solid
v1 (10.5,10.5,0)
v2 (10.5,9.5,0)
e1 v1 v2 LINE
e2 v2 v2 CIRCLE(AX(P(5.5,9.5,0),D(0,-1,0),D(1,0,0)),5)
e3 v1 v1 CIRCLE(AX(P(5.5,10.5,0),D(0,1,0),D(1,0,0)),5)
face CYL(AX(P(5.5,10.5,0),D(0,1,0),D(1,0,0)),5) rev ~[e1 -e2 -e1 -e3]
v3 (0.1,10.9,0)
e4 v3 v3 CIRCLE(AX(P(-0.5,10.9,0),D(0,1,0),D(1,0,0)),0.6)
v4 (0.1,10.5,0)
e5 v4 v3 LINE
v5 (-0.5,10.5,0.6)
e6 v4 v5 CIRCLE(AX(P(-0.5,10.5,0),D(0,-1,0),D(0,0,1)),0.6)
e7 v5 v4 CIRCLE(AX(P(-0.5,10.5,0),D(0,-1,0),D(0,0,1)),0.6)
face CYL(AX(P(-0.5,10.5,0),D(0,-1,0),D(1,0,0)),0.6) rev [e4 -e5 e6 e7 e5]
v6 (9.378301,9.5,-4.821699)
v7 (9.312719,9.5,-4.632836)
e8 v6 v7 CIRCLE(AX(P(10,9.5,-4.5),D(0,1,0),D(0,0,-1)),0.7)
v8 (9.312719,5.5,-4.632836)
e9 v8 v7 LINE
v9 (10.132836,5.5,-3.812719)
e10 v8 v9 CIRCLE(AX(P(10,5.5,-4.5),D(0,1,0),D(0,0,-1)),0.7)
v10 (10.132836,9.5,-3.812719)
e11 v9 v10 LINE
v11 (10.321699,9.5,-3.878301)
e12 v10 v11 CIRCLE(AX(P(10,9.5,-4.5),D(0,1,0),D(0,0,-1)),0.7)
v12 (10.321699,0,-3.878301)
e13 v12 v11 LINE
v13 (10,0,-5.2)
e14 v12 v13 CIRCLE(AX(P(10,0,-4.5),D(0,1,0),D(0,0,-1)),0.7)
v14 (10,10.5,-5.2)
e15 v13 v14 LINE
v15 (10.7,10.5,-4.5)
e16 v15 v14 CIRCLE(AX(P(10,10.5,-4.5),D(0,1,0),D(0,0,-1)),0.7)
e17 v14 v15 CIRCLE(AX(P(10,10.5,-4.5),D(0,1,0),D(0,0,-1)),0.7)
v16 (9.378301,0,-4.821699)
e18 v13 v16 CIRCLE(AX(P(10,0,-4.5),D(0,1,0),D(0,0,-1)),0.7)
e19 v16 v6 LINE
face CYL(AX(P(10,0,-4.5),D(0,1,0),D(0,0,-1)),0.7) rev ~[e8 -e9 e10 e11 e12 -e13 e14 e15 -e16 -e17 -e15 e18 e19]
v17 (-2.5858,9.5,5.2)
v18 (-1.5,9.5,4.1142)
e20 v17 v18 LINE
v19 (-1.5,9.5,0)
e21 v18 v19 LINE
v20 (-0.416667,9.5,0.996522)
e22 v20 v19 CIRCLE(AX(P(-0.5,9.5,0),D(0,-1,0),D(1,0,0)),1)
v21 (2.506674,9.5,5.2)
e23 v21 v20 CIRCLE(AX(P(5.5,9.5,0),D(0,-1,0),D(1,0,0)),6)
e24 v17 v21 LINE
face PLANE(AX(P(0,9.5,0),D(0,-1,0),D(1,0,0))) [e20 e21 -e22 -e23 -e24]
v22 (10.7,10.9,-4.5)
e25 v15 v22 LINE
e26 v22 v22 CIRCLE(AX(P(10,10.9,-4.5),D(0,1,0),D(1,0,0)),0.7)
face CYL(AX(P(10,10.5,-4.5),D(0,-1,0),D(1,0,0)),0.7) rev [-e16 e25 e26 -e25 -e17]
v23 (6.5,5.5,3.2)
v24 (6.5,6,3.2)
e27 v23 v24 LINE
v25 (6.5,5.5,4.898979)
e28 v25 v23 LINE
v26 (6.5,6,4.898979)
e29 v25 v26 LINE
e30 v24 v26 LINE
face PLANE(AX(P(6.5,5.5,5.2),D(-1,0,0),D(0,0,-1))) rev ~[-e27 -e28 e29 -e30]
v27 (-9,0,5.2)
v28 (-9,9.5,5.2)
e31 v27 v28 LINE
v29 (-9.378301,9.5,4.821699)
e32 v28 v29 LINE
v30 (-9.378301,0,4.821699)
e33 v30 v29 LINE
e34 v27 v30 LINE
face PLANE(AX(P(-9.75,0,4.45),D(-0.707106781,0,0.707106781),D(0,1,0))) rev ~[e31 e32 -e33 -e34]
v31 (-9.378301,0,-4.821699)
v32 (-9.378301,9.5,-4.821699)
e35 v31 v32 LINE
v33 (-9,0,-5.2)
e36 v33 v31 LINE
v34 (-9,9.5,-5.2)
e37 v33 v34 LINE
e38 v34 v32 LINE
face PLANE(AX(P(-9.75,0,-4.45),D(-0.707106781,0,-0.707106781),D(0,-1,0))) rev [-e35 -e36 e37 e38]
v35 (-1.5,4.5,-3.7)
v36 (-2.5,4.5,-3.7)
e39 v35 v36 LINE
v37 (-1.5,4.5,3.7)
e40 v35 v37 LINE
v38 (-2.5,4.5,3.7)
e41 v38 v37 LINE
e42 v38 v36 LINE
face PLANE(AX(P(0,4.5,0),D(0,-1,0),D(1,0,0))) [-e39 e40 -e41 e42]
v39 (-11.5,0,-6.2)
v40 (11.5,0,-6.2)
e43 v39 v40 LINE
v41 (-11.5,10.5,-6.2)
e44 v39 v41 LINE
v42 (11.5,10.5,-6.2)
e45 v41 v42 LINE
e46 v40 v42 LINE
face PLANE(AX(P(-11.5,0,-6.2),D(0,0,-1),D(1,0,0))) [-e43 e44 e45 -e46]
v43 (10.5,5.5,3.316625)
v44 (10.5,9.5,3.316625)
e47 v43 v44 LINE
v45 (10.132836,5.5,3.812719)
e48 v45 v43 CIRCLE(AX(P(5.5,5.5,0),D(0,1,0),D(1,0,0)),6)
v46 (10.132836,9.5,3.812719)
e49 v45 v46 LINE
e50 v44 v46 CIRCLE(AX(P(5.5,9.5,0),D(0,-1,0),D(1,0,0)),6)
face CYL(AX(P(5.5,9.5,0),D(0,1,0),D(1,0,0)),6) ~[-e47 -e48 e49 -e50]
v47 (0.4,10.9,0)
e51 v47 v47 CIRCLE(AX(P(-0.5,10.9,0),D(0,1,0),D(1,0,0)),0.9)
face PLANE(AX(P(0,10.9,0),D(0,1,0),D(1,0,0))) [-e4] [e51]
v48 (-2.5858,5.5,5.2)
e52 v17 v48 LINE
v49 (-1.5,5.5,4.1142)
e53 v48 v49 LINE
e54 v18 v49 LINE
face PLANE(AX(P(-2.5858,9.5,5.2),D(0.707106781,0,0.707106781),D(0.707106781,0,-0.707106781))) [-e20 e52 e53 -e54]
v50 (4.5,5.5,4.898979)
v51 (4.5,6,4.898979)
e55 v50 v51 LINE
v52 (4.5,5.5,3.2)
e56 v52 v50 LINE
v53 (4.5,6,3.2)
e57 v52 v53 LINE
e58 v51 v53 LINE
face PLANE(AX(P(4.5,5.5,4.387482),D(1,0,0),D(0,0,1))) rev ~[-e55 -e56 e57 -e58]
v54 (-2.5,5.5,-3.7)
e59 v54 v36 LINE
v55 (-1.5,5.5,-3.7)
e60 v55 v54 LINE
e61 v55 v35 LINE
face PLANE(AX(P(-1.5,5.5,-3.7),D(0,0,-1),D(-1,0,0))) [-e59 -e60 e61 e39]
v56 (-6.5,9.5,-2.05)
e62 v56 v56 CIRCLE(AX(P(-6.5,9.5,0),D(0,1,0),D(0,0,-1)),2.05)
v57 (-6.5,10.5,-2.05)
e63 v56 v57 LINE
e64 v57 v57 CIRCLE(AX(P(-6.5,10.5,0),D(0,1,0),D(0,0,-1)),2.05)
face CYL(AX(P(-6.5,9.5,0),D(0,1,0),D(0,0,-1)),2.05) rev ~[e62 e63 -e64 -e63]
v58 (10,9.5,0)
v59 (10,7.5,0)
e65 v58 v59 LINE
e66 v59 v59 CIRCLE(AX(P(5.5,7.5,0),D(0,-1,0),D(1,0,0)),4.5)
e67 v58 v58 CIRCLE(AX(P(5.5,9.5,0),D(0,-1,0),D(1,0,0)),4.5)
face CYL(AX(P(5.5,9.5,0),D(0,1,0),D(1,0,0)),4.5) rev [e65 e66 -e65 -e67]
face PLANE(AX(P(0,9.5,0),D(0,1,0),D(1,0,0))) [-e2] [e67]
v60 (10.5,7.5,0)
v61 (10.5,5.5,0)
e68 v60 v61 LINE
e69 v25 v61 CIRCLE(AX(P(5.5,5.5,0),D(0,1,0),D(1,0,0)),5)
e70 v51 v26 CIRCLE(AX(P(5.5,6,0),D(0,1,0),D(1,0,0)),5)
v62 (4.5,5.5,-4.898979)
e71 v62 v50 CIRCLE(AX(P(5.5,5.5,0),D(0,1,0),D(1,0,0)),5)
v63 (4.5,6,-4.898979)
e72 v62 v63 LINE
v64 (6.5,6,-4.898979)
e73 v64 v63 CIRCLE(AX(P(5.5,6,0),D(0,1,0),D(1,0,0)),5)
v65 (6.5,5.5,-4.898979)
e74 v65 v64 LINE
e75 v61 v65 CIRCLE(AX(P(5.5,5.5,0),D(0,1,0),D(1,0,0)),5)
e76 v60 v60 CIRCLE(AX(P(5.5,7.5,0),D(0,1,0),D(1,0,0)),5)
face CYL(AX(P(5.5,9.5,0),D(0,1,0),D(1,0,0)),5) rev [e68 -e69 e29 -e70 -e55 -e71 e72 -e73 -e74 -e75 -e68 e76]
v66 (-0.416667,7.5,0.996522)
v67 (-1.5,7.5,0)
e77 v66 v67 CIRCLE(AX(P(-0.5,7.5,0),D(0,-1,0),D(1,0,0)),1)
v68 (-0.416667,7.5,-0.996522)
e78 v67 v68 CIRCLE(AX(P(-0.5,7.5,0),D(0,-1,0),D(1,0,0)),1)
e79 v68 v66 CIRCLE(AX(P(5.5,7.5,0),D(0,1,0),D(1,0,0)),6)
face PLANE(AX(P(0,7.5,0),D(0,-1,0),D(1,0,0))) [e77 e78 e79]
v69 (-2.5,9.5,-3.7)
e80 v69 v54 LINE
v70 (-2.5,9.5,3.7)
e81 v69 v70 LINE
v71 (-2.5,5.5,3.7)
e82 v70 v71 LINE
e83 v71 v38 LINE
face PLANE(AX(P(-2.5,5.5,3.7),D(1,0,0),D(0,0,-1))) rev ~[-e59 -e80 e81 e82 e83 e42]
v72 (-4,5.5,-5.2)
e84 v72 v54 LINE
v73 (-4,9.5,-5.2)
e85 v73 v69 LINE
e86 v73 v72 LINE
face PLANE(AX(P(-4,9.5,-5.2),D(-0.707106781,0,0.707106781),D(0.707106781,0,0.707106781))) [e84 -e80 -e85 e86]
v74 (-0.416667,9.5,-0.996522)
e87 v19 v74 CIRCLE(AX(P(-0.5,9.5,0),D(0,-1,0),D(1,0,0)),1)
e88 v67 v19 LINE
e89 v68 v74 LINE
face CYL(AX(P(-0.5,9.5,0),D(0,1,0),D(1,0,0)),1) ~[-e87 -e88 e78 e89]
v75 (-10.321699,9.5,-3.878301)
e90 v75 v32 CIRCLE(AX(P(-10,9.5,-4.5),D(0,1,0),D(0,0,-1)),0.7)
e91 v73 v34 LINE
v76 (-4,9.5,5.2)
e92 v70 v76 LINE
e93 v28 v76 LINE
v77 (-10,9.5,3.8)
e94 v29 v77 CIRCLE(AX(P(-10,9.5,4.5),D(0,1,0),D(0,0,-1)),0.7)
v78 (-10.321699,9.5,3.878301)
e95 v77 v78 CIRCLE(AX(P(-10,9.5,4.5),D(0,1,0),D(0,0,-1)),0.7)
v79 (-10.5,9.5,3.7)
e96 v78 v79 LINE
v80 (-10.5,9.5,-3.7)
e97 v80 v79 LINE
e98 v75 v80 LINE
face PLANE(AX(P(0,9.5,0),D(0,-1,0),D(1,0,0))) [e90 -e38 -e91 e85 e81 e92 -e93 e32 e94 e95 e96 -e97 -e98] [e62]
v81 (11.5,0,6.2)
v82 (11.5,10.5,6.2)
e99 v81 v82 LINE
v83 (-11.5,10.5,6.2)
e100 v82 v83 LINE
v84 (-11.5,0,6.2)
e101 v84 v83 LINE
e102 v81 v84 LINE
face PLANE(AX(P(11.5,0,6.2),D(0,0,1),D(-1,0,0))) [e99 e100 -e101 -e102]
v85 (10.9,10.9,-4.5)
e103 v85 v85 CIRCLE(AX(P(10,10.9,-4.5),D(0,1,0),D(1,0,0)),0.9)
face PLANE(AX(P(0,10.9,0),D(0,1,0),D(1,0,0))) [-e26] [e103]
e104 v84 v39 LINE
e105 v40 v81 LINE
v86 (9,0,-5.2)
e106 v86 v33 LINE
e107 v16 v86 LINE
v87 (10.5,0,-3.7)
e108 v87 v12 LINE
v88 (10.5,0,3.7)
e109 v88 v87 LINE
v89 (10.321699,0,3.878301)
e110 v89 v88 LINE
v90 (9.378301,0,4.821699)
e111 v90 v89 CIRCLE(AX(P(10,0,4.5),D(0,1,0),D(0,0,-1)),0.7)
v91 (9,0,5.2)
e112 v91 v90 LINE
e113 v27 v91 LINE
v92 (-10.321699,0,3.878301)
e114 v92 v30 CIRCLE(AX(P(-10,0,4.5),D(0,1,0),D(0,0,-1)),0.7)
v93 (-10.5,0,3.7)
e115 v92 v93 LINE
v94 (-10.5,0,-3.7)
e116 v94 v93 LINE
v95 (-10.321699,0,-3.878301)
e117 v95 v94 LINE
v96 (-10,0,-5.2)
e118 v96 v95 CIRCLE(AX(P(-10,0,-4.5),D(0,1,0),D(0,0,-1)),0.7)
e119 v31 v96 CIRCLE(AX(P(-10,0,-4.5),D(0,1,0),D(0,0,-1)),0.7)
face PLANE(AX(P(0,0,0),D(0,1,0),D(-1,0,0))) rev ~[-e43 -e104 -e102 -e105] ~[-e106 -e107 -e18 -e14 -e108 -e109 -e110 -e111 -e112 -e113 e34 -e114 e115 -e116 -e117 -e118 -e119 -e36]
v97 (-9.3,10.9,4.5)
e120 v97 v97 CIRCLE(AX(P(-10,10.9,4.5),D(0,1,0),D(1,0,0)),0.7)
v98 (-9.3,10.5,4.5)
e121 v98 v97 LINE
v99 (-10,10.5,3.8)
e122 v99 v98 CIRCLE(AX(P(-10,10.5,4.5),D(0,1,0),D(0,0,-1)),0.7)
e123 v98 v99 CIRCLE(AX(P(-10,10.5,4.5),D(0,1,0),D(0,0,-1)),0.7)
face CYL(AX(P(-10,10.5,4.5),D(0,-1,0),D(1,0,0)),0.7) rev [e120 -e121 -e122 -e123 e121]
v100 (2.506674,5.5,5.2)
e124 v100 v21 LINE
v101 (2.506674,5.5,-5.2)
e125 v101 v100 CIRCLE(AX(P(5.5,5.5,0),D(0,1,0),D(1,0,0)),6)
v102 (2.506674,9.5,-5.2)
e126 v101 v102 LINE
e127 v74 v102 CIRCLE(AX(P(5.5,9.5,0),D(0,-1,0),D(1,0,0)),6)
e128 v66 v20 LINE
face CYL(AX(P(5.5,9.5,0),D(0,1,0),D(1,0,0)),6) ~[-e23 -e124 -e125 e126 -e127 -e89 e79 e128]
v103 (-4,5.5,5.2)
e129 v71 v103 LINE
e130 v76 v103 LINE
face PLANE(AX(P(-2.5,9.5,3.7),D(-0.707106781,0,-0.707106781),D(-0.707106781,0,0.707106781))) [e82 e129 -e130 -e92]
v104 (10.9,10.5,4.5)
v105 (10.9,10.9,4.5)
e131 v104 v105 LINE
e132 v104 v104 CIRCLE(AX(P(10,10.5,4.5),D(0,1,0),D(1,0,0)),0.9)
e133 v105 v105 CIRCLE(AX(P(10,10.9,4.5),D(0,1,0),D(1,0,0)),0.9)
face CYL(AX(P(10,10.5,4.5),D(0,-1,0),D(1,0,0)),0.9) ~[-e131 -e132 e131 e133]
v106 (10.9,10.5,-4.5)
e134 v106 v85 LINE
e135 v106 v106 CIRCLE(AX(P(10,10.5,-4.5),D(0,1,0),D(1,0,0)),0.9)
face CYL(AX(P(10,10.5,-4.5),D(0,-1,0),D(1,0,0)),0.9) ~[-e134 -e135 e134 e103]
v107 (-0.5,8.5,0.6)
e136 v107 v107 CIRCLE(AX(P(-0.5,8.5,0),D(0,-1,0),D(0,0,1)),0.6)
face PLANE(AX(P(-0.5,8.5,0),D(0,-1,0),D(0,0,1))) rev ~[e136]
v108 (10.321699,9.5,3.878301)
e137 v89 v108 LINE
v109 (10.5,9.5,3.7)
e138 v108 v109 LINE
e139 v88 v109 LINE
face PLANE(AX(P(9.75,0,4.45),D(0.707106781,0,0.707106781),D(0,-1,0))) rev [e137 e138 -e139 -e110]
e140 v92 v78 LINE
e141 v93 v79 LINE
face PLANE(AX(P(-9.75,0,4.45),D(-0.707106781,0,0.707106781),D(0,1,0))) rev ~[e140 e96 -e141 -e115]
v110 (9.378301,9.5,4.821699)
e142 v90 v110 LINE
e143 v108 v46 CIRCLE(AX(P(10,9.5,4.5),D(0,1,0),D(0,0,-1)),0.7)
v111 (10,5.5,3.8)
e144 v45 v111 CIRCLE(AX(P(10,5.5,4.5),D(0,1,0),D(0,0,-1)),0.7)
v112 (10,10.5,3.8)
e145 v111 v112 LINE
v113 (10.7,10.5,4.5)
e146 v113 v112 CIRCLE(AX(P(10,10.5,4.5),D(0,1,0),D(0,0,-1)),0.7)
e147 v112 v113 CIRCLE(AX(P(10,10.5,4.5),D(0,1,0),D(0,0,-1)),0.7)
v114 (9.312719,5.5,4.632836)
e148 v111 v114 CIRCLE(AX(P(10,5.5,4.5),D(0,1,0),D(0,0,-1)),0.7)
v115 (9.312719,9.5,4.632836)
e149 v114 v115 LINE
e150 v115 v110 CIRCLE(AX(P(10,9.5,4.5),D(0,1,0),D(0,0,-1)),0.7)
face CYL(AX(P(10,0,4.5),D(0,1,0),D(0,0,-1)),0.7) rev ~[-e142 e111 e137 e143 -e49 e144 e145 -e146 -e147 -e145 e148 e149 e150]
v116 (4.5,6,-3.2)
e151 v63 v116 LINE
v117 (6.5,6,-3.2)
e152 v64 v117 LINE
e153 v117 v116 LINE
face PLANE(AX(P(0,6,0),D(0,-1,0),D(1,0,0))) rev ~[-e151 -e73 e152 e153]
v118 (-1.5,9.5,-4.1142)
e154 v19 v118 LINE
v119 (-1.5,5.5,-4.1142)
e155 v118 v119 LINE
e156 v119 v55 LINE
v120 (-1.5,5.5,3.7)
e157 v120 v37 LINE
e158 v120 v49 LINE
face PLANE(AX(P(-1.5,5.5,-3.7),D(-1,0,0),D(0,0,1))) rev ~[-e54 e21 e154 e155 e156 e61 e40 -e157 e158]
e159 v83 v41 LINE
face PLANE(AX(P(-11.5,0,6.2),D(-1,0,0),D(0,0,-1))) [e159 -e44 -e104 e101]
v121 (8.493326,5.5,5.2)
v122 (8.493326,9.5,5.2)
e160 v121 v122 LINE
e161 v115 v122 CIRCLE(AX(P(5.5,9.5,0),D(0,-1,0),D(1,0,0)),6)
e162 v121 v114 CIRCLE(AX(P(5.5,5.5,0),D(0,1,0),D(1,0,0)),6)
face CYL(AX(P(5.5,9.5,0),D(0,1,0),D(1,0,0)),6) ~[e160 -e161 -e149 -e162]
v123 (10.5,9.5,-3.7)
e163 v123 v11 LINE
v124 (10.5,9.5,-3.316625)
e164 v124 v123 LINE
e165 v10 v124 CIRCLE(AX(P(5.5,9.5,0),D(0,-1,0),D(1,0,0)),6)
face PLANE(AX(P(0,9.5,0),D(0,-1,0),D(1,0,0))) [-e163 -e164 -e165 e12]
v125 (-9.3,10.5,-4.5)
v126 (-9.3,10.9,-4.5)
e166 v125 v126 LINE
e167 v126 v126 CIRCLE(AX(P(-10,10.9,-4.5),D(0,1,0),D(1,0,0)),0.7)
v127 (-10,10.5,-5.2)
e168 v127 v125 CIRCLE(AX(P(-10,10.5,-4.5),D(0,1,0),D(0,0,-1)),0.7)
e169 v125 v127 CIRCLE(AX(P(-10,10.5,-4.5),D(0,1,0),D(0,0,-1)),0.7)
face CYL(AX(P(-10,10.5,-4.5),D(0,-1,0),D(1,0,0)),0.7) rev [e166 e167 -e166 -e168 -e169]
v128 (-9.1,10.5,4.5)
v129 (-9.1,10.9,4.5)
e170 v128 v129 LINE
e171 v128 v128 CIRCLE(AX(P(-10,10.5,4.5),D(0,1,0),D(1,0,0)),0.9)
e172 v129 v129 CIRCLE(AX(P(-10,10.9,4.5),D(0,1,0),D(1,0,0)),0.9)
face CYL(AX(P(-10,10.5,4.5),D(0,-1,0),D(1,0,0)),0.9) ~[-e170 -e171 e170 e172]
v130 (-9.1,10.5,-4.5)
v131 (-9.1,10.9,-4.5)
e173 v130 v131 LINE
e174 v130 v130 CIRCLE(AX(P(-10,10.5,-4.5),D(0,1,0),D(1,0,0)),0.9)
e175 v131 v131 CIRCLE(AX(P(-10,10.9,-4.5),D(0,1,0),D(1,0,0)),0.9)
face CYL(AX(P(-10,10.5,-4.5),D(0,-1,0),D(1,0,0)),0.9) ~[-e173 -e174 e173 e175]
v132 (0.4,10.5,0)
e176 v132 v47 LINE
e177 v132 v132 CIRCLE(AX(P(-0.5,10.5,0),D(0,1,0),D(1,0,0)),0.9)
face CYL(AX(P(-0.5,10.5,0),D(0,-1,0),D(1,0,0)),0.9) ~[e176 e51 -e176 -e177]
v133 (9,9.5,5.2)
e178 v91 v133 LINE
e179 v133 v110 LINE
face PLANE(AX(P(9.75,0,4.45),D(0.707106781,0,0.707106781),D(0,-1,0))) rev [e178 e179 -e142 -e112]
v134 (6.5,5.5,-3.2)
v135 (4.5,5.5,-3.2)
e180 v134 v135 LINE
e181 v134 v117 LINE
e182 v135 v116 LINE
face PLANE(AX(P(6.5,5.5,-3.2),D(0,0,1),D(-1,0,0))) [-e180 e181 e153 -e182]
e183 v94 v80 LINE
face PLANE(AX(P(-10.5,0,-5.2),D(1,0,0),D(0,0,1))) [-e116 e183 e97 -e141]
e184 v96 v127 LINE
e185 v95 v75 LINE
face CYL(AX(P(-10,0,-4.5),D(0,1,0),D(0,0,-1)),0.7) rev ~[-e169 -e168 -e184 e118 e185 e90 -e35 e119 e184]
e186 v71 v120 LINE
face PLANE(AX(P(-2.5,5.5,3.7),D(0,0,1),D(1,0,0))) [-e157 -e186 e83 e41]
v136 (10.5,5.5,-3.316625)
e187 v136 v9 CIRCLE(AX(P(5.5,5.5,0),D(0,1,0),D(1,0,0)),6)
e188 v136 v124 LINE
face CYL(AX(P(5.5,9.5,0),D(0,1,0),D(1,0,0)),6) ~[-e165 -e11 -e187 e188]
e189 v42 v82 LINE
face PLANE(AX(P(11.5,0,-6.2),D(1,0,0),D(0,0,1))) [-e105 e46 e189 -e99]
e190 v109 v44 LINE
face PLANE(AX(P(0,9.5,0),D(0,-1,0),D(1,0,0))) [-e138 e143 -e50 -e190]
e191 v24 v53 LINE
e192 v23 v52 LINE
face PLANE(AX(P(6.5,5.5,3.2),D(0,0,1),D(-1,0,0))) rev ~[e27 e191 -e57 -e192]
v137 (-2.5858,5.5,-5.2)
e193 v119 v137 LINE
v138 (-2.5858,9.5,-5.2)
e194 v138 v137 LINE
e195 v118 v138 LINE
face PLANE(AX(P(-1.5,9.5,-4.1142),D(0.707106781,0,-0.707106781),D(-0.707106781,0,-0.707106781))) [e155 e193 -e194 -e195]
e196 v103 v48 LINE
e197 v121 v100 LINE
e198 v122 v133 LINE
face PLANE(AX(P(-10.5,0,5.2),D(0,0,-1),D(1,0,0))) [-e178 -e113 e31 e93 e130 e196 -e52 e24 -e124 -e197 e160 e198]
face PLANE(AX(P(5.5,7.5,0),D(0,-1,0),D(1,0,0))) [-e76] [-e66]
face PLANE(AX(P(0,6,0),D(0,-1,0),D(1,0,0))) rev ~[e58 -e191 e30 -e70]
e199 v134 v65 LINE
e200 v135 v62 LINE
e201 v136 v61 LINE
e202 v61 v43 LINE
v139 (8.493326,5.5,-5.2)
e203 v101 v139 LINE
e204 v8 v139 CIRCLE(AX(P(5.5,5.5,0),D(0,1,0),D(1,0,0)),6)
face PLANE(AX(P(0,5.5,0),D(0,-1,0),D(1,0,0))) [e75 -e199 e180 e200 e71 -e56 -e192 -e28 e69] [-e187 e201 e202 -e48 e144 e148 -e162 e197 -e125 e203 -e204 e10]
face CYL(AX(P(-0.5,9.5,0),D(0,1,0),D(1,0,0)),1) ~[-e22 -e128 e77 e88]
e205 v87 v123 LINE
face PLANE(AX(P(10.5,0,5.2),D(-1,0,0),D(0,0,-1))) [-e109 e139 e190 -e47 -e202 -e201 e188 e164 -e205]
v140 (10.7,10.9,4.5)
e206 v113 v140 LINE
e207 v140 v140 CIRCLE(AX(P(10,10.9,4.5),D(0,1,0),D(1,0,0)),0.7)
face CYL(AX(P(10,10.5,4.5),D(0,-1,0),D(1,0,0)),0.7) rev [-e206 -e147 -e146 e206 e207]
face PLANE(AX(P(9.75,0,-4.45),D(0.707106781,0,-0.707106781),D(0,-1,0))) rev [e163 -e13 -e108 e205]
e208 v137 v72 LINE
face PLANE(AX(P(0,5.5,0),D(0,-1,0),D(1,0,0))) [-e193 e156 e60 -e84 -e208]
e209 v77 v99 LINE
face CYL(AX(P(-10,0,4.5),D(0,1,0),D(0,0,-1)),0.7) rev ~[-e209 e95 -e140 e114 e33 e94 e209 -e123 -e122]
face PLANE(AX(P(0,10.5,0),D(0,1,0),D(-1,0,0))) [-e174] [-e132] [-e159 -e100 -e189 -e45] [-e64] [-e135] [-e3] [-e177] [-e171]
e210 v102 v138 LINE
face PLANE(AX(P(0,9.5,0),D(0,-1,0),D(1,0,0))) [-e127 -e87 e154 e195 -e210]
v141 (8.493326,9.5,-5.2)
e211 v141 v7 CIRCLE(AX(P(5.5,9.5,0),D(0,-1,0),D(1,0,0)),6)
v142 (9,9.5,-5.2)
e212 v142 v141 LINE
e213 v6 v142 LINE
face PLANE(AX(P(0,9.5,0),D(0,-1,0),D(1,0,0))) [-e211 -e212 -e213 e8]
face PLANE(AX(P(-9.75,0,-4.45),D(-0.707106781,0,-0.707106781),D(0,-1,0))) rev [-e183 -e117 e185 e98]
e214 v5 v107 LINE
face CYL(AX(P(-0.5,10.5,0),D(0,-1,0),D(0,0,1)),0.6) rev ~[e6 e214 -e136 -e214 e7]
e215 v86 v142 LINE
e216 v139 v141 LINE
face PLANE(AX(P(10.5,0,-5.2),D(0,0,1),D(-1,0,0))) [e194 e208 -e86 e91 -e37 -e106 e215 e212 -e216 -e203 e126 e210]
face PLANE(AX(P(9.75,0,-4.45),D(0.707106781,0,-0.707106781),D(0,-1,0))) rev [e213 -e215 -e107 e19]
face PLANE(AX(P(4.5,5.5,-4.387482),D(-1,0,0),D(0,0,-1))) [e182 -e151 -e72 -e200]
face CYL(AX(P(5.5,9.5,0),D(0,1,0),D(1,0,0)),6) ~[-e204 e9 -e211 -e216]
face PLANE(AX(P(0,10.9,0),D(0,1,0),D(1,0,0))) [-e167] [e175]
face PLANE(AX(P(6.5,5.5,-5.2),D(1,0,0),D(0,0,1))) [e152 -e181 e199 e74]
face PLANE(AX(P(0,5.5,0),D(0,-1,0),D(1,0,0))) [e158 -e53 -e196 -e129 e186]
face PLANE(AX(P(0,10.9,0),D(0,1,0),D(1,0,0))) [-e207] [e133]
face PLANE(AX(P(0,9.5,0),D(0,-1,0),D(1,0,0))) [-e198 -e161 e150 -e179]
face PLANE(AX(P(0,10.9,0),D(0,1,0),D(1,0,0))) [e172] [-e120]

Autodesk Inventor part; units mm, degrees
ref_plane "YZ Plane" through (0, 0, 0) normal (1, 0, 0) x (0, 1, 0)
ref_plane "XZ Plane" through (0, 0, 0) normal (0, 1, 0) x (-1, 0, 0)
ref_plane "XY Plane" through (0, 0, 0) normal (0, 0, 1) x (1, 0, 0)
sketch "Эскиз1" plane through (0, 0, 0) normal (0, 1, 0) x (-1, 0, 0)
  line L0 (-11.5, 6.2) -> (11.5, 6.2)
  line L1 (11.5, 6.2) -> (11.5, -6.2)
  line L2 (11.5, -6.2) -> (-11.5, -6.2)
  line L3 (-11.5, -6.2) -> (-11.5, 6.2)
  line L4 (-11.5, 6.2) -> (11.5, -6.2) construction
  line L5 (11.5, 6.2) -> (-11.5, -6.2) construction
  point P0 (0, 0)
  dimension "d0" = 12.4
  dimension "d1" = 23
extrude "Выдавливание1" add sketch "Эскиз1" along normal blind 10.5
sketch "Эскиз2" plane through (0, 0, 0) normal (0, -1, 0) x (1, 0, 0)
  line L0 (11.5, 6.2) -> (-11.5, 6.2) projected
  line L1 (-11.5, 6.2) -> (-11.5, -6.2) projected
  line L2 (-11.5, -6.2) -> (11.5, -6.2) projected
  line L3 (11.5, -6.2) -> (11.5, 6.2) projected
  line L4 (-10.5, 5.2) -> (10.5, 5.2)
  line L5 (10.5, 5.2) -> (10.5, -5.2)
  line L6 (10.5, -5.2) -> (-10.5, -5.2)
  line L7 (-10.5, -5.2) -> (-10.5, 5.2)
  point P0 (0, 0)
  dimension "d66" = 1
extrude "Выдавливание2" cut sketch "Эскиз2" against normal blind 9.5 contours L4 L5 L6 L7
chamfer "Фаска1" distance 1.5 angle 45 4 edges at (-10.5, 4.75, 5.2) (10.5, 4.75, 5.2) (10.5, 4.75, -5.2) (-10.5, 4.75, -5.2)
sketch "Эскиз3" plane through (0, 9.5, 0) normal (0, -1, 0) x (1, 0, 0)
  line L0 (9, -5.2) -> (-9, -5.2) projected
  line L1 (-4, -5.2) -> (-2.5, -3.7)
  line L2 (-2.5, -3.7) -> (-2.5, 3.7)
  line L3 (-2.5, 3.7) -> (-4, 5.2)
  line L4 (-9, 5.2) -> (9, 5.2) projected
  line L5 (-16.1, 0) -> (16.1, 0) projected
  line L6 (-10.5, -3.7) -> (-10.5, 3.7) projected
  line L7 (-2.5858, 5.2) -> (-1.5, 4.1142)
  line L8 (-1.5, 4.1142) -> (-1.5, -4.1142)
  line L9 (-1.5, -4.1142) -> (-2.5858, -5.2)
  point P0 (0, 0)
  dimension "d9" = 1.5
  dimension "d10" = 8
  dimension "d11" = 1
  dimension "d12" = 1
extrude "Выдавливание3" add sketch "Эскиз3" along normal blind 4
sketch "Эскиз4" plane through (0, 5.5, 0) normal (0, -1, 0) x (1, 0, 0)
  line L0 (-2.5, 3.7) -> (-2.5, -3.7) projected
  line L1 (-1.5, -4.1142) -> (-1.5, 4.1142) projected
  line L2 (-2.5, 3.7) -> (-1.5, 3.7)
  line L3 (-1.5, 3.7) -> (-1.5, -3.7)
  line L4 (-1.5, -3.7) -> (-2.5, -3.7)
  line L5 (-2.5, -3.7) -> (-2.5, 3.7)
  point P0 (0, 0)
extrude "Выдавливание4" add sketch "Эскиз4" along normal blind 1
sketch "Эскиз5" plane through (0, 9.5, 0) normal (0, -1, 0) x (1, 0, 0)
  line L0 (-10.5, -3.7) -> (-10.5, 3.7) projected
  line L1 (-2.5, -3.7) -> (-2.5, 3.7) projected
  line L2 (-9, 5.2) -> (9, 5.2) projected
  line L3 (9, -5.2) -> (-9, -5.2) projected
  line L4 (-2.5, 3.7) -> (-2.5, -3.7) projected
  point P0 (0, 0)
  point P1 (-6.5, 0)
  point P2 (-2.5, 0)
  dimension "d64" = 8
  dimension "d65" = 4
hole "Отверстие1" at (-6.5, 9.5, 0) direction (0, 1, 0) diameter 4.1 depth 8 tip angle 118
sketch "Эскиз6" plane through (0, 9.5, 0) normal (0, -1, 0) x (1, 0, 0)
  circle A0 centre (5.5, 0) radius 5
  line L0 (10.5, 3.7) -> (10.5, -3.7) projected
  line L1 (-16.1, 0) -> (16.1, 0) projected
  line L2 (10.5, 3.7) -> (10.5, -3.7) projected
  circle A1 centre (5.5, 0) radius 6
  point P0 (0, 0)
  dimension "d24" = 10
  dimension "d25" = 1
extrude "Выдавливание5" add sketch "Эскиз6" along normal blind 4 contours L0 A1 L1 A0 | A0 L1 A1 L0 | L1 A1 L0 | L0 A1 L1
sketch "Эскиз7" plane through (5.5, 9.5, 0) normal (0, -1, 0) x (1, 0, 0)
  circle A0 centre (0, 0) radius 5 projected
  circle A1 centre (0, 0) radius 4.5
  point P0 (-5.5, 0)
  dimension "d28" = 9
extrude "Выдавливание6" cut sketch "Эскиз7" against normal blind 5 contours A1
sketch "Эскиз8" plane through (5.5, 9.5, 0) normal (0, -1, 0) x (1, 0, 0)
  circle A0 centre (0, 0) radius 4.5 projected
  circle A1 centre (0, 0) radius 5 projected
  point P0 (-5.5, 0)
extrude "Выдавливание7" add sketch "Эскиз8" along normal blind 2
sketch "Эскиз9" plane through (0, 10.5, 0) normal (0, 1, 0) x (1, 0, 0)
  circle A0 centre (5.5, 0) radius 4.5 projected
  circle A1 centre (5.5, 0) radius 5
  point P0 (0, 0)
  dimension "d33" = 10
extrude "Выдавливание8" cut sketch "Эскиз9" against normal blind 1
sketch "Эскиз10" plane through (0, 5.5, 0) normal (0, -1, 0) x (1, 0, 0)
  line L0 (2.5067, 5.2) -> (8.4933, 5.2) projected
  line L1 (4.5, 5.2) -> (6.5, 5.2)
  line L2 (6.5, 5.2) -> (6.5, 3.2)
  line L3 (6.5, 3.2) -> (4.5, 3.2)
  line L4 (4.5, 3.2) -> (4.5, 5.2)
  line L5 (9, -5.2) -> (-9, -5.2) projected
  line L6 (4.5, -5.2) -> (6.5, -5.2)
  line L7 (6.5, -5.2) -> (6.5, -3.2)
  line L8 (6.5, -3.2) -> (4.5, -3.2)
  line L9 (4.5, -3.2) -> (4.5, -5.2)
  line L10 (-16.1, 0) -> (16.1, 0) projected
  circle A0 centre (5.5, 0) radius 4.5 projected
  point P0 (0, 0)
  point P1 (5.5, 3.2)
  dimension "d36" = 2
  dimension "d37" = 2
extrude "Выдавливание9" add sketch "Эскиз10" against normal blind 0.5 contours L0 L2 A0 L4 | A0 L2 L3 L4 | A0 L7 L5 L9 | L9 L8 L7 A0
sketch "Эскиз11" plane through (0, 9.5, 0) normal (0, -1, 0) x (1, 0, 0)
  circle A0 centre (-0.5, 0) radius 1
  line L0 (-11.5, 6.2) -> (-11.5, -6.2) projected
  point P0 (0, 0)
  dimension "d40" = 11
  dimension "d41" = 2
extrude "Выдавливание10" add sketch "Эскиз11" along normal blind 2
sketch "Эскиз12" plane through (0, 10.5, 0) normal (0, 1, 0) x (1, 0, 0)
  arc A0 (-1.5, 0) -> (-0.4167, -0.9965) centre (-0.5, 0) ccw projected
  line L0 (-11.5, 6.2) -> (-11.5, -6.2) projected
  circle A1 centre (-6.428, 0) radius 2.05 projected
  point P0 (0, 0)
  point P1 (-1.5, -0.866)
  dimension "d63" = 11
hole "Отверстие2" at (-0.5, 10.5, 0) direction (0, -1, 0) diameter 1.2 depth 2
sketch "Эскиз13" plane through (0, 0, 0) normal (0, -1, 0) x (1, 0, 0)
  line L0 (-10, -4.5) -> (10, -4.5)
  line L1 (10, -4.5) -> (10, 4.5)
  line L2 (10, 4.5) -> (-10, 4.5)
  line L3 (-10, 4.5) -> (-10, -4.5)
  line L4 (-10, -4.5) -> (10, 4.5) construction
  line L5 (10, -4.5) -> (-10, 4.5) construction
  point P0 (0, 0)
  dimension "d51" = 9
  dimension "d52" = 20
hole "Отверстие3" at (10, 0, 4.5) at (10, 0, -4.5) at (-10, 0, 4.5) at (-10, 0, -4.5) direction (0, 1, 0) diameter 1.4 depth 12 tip angle 118
sketch "Эскиз14" plane through (0, 10.5, 0) normal (0, 1, 0) x (1, 0, 0)
  circle A0 centre (10, 4.5) radius 0.7 projected
  circle A1 centre (10, -4.5) radius 0.7 projected
  circle A2 centre (-10, -4.5) radius 0.7 projected
  circle A3 centre (-10, 4.5) radius 0.7 projected
  circle A4 centre (10, 4.5) radius 0.9
  circle A5 centre (-10, 4.5) radius 0.9
  circle A6 centre (-10, -4.5) radius 0.9
  circle A7 centre (10, -4.5) radius 0.9
  circle A8 centre (-0.5, 0) radius 0.6 projected
  circle A9 centre (-0.5, 0) radius 0.9
  point P0 (0, 0)
  dimension "d60" = 1.8
extrude "Выдавливание11" add sketch "Эскиз14" along normal blind 0.4
equation "\"d65\" = 0.5 * d64"
properties part number "основание крпуса редуктора" material "Пластик ПК/АБС"
